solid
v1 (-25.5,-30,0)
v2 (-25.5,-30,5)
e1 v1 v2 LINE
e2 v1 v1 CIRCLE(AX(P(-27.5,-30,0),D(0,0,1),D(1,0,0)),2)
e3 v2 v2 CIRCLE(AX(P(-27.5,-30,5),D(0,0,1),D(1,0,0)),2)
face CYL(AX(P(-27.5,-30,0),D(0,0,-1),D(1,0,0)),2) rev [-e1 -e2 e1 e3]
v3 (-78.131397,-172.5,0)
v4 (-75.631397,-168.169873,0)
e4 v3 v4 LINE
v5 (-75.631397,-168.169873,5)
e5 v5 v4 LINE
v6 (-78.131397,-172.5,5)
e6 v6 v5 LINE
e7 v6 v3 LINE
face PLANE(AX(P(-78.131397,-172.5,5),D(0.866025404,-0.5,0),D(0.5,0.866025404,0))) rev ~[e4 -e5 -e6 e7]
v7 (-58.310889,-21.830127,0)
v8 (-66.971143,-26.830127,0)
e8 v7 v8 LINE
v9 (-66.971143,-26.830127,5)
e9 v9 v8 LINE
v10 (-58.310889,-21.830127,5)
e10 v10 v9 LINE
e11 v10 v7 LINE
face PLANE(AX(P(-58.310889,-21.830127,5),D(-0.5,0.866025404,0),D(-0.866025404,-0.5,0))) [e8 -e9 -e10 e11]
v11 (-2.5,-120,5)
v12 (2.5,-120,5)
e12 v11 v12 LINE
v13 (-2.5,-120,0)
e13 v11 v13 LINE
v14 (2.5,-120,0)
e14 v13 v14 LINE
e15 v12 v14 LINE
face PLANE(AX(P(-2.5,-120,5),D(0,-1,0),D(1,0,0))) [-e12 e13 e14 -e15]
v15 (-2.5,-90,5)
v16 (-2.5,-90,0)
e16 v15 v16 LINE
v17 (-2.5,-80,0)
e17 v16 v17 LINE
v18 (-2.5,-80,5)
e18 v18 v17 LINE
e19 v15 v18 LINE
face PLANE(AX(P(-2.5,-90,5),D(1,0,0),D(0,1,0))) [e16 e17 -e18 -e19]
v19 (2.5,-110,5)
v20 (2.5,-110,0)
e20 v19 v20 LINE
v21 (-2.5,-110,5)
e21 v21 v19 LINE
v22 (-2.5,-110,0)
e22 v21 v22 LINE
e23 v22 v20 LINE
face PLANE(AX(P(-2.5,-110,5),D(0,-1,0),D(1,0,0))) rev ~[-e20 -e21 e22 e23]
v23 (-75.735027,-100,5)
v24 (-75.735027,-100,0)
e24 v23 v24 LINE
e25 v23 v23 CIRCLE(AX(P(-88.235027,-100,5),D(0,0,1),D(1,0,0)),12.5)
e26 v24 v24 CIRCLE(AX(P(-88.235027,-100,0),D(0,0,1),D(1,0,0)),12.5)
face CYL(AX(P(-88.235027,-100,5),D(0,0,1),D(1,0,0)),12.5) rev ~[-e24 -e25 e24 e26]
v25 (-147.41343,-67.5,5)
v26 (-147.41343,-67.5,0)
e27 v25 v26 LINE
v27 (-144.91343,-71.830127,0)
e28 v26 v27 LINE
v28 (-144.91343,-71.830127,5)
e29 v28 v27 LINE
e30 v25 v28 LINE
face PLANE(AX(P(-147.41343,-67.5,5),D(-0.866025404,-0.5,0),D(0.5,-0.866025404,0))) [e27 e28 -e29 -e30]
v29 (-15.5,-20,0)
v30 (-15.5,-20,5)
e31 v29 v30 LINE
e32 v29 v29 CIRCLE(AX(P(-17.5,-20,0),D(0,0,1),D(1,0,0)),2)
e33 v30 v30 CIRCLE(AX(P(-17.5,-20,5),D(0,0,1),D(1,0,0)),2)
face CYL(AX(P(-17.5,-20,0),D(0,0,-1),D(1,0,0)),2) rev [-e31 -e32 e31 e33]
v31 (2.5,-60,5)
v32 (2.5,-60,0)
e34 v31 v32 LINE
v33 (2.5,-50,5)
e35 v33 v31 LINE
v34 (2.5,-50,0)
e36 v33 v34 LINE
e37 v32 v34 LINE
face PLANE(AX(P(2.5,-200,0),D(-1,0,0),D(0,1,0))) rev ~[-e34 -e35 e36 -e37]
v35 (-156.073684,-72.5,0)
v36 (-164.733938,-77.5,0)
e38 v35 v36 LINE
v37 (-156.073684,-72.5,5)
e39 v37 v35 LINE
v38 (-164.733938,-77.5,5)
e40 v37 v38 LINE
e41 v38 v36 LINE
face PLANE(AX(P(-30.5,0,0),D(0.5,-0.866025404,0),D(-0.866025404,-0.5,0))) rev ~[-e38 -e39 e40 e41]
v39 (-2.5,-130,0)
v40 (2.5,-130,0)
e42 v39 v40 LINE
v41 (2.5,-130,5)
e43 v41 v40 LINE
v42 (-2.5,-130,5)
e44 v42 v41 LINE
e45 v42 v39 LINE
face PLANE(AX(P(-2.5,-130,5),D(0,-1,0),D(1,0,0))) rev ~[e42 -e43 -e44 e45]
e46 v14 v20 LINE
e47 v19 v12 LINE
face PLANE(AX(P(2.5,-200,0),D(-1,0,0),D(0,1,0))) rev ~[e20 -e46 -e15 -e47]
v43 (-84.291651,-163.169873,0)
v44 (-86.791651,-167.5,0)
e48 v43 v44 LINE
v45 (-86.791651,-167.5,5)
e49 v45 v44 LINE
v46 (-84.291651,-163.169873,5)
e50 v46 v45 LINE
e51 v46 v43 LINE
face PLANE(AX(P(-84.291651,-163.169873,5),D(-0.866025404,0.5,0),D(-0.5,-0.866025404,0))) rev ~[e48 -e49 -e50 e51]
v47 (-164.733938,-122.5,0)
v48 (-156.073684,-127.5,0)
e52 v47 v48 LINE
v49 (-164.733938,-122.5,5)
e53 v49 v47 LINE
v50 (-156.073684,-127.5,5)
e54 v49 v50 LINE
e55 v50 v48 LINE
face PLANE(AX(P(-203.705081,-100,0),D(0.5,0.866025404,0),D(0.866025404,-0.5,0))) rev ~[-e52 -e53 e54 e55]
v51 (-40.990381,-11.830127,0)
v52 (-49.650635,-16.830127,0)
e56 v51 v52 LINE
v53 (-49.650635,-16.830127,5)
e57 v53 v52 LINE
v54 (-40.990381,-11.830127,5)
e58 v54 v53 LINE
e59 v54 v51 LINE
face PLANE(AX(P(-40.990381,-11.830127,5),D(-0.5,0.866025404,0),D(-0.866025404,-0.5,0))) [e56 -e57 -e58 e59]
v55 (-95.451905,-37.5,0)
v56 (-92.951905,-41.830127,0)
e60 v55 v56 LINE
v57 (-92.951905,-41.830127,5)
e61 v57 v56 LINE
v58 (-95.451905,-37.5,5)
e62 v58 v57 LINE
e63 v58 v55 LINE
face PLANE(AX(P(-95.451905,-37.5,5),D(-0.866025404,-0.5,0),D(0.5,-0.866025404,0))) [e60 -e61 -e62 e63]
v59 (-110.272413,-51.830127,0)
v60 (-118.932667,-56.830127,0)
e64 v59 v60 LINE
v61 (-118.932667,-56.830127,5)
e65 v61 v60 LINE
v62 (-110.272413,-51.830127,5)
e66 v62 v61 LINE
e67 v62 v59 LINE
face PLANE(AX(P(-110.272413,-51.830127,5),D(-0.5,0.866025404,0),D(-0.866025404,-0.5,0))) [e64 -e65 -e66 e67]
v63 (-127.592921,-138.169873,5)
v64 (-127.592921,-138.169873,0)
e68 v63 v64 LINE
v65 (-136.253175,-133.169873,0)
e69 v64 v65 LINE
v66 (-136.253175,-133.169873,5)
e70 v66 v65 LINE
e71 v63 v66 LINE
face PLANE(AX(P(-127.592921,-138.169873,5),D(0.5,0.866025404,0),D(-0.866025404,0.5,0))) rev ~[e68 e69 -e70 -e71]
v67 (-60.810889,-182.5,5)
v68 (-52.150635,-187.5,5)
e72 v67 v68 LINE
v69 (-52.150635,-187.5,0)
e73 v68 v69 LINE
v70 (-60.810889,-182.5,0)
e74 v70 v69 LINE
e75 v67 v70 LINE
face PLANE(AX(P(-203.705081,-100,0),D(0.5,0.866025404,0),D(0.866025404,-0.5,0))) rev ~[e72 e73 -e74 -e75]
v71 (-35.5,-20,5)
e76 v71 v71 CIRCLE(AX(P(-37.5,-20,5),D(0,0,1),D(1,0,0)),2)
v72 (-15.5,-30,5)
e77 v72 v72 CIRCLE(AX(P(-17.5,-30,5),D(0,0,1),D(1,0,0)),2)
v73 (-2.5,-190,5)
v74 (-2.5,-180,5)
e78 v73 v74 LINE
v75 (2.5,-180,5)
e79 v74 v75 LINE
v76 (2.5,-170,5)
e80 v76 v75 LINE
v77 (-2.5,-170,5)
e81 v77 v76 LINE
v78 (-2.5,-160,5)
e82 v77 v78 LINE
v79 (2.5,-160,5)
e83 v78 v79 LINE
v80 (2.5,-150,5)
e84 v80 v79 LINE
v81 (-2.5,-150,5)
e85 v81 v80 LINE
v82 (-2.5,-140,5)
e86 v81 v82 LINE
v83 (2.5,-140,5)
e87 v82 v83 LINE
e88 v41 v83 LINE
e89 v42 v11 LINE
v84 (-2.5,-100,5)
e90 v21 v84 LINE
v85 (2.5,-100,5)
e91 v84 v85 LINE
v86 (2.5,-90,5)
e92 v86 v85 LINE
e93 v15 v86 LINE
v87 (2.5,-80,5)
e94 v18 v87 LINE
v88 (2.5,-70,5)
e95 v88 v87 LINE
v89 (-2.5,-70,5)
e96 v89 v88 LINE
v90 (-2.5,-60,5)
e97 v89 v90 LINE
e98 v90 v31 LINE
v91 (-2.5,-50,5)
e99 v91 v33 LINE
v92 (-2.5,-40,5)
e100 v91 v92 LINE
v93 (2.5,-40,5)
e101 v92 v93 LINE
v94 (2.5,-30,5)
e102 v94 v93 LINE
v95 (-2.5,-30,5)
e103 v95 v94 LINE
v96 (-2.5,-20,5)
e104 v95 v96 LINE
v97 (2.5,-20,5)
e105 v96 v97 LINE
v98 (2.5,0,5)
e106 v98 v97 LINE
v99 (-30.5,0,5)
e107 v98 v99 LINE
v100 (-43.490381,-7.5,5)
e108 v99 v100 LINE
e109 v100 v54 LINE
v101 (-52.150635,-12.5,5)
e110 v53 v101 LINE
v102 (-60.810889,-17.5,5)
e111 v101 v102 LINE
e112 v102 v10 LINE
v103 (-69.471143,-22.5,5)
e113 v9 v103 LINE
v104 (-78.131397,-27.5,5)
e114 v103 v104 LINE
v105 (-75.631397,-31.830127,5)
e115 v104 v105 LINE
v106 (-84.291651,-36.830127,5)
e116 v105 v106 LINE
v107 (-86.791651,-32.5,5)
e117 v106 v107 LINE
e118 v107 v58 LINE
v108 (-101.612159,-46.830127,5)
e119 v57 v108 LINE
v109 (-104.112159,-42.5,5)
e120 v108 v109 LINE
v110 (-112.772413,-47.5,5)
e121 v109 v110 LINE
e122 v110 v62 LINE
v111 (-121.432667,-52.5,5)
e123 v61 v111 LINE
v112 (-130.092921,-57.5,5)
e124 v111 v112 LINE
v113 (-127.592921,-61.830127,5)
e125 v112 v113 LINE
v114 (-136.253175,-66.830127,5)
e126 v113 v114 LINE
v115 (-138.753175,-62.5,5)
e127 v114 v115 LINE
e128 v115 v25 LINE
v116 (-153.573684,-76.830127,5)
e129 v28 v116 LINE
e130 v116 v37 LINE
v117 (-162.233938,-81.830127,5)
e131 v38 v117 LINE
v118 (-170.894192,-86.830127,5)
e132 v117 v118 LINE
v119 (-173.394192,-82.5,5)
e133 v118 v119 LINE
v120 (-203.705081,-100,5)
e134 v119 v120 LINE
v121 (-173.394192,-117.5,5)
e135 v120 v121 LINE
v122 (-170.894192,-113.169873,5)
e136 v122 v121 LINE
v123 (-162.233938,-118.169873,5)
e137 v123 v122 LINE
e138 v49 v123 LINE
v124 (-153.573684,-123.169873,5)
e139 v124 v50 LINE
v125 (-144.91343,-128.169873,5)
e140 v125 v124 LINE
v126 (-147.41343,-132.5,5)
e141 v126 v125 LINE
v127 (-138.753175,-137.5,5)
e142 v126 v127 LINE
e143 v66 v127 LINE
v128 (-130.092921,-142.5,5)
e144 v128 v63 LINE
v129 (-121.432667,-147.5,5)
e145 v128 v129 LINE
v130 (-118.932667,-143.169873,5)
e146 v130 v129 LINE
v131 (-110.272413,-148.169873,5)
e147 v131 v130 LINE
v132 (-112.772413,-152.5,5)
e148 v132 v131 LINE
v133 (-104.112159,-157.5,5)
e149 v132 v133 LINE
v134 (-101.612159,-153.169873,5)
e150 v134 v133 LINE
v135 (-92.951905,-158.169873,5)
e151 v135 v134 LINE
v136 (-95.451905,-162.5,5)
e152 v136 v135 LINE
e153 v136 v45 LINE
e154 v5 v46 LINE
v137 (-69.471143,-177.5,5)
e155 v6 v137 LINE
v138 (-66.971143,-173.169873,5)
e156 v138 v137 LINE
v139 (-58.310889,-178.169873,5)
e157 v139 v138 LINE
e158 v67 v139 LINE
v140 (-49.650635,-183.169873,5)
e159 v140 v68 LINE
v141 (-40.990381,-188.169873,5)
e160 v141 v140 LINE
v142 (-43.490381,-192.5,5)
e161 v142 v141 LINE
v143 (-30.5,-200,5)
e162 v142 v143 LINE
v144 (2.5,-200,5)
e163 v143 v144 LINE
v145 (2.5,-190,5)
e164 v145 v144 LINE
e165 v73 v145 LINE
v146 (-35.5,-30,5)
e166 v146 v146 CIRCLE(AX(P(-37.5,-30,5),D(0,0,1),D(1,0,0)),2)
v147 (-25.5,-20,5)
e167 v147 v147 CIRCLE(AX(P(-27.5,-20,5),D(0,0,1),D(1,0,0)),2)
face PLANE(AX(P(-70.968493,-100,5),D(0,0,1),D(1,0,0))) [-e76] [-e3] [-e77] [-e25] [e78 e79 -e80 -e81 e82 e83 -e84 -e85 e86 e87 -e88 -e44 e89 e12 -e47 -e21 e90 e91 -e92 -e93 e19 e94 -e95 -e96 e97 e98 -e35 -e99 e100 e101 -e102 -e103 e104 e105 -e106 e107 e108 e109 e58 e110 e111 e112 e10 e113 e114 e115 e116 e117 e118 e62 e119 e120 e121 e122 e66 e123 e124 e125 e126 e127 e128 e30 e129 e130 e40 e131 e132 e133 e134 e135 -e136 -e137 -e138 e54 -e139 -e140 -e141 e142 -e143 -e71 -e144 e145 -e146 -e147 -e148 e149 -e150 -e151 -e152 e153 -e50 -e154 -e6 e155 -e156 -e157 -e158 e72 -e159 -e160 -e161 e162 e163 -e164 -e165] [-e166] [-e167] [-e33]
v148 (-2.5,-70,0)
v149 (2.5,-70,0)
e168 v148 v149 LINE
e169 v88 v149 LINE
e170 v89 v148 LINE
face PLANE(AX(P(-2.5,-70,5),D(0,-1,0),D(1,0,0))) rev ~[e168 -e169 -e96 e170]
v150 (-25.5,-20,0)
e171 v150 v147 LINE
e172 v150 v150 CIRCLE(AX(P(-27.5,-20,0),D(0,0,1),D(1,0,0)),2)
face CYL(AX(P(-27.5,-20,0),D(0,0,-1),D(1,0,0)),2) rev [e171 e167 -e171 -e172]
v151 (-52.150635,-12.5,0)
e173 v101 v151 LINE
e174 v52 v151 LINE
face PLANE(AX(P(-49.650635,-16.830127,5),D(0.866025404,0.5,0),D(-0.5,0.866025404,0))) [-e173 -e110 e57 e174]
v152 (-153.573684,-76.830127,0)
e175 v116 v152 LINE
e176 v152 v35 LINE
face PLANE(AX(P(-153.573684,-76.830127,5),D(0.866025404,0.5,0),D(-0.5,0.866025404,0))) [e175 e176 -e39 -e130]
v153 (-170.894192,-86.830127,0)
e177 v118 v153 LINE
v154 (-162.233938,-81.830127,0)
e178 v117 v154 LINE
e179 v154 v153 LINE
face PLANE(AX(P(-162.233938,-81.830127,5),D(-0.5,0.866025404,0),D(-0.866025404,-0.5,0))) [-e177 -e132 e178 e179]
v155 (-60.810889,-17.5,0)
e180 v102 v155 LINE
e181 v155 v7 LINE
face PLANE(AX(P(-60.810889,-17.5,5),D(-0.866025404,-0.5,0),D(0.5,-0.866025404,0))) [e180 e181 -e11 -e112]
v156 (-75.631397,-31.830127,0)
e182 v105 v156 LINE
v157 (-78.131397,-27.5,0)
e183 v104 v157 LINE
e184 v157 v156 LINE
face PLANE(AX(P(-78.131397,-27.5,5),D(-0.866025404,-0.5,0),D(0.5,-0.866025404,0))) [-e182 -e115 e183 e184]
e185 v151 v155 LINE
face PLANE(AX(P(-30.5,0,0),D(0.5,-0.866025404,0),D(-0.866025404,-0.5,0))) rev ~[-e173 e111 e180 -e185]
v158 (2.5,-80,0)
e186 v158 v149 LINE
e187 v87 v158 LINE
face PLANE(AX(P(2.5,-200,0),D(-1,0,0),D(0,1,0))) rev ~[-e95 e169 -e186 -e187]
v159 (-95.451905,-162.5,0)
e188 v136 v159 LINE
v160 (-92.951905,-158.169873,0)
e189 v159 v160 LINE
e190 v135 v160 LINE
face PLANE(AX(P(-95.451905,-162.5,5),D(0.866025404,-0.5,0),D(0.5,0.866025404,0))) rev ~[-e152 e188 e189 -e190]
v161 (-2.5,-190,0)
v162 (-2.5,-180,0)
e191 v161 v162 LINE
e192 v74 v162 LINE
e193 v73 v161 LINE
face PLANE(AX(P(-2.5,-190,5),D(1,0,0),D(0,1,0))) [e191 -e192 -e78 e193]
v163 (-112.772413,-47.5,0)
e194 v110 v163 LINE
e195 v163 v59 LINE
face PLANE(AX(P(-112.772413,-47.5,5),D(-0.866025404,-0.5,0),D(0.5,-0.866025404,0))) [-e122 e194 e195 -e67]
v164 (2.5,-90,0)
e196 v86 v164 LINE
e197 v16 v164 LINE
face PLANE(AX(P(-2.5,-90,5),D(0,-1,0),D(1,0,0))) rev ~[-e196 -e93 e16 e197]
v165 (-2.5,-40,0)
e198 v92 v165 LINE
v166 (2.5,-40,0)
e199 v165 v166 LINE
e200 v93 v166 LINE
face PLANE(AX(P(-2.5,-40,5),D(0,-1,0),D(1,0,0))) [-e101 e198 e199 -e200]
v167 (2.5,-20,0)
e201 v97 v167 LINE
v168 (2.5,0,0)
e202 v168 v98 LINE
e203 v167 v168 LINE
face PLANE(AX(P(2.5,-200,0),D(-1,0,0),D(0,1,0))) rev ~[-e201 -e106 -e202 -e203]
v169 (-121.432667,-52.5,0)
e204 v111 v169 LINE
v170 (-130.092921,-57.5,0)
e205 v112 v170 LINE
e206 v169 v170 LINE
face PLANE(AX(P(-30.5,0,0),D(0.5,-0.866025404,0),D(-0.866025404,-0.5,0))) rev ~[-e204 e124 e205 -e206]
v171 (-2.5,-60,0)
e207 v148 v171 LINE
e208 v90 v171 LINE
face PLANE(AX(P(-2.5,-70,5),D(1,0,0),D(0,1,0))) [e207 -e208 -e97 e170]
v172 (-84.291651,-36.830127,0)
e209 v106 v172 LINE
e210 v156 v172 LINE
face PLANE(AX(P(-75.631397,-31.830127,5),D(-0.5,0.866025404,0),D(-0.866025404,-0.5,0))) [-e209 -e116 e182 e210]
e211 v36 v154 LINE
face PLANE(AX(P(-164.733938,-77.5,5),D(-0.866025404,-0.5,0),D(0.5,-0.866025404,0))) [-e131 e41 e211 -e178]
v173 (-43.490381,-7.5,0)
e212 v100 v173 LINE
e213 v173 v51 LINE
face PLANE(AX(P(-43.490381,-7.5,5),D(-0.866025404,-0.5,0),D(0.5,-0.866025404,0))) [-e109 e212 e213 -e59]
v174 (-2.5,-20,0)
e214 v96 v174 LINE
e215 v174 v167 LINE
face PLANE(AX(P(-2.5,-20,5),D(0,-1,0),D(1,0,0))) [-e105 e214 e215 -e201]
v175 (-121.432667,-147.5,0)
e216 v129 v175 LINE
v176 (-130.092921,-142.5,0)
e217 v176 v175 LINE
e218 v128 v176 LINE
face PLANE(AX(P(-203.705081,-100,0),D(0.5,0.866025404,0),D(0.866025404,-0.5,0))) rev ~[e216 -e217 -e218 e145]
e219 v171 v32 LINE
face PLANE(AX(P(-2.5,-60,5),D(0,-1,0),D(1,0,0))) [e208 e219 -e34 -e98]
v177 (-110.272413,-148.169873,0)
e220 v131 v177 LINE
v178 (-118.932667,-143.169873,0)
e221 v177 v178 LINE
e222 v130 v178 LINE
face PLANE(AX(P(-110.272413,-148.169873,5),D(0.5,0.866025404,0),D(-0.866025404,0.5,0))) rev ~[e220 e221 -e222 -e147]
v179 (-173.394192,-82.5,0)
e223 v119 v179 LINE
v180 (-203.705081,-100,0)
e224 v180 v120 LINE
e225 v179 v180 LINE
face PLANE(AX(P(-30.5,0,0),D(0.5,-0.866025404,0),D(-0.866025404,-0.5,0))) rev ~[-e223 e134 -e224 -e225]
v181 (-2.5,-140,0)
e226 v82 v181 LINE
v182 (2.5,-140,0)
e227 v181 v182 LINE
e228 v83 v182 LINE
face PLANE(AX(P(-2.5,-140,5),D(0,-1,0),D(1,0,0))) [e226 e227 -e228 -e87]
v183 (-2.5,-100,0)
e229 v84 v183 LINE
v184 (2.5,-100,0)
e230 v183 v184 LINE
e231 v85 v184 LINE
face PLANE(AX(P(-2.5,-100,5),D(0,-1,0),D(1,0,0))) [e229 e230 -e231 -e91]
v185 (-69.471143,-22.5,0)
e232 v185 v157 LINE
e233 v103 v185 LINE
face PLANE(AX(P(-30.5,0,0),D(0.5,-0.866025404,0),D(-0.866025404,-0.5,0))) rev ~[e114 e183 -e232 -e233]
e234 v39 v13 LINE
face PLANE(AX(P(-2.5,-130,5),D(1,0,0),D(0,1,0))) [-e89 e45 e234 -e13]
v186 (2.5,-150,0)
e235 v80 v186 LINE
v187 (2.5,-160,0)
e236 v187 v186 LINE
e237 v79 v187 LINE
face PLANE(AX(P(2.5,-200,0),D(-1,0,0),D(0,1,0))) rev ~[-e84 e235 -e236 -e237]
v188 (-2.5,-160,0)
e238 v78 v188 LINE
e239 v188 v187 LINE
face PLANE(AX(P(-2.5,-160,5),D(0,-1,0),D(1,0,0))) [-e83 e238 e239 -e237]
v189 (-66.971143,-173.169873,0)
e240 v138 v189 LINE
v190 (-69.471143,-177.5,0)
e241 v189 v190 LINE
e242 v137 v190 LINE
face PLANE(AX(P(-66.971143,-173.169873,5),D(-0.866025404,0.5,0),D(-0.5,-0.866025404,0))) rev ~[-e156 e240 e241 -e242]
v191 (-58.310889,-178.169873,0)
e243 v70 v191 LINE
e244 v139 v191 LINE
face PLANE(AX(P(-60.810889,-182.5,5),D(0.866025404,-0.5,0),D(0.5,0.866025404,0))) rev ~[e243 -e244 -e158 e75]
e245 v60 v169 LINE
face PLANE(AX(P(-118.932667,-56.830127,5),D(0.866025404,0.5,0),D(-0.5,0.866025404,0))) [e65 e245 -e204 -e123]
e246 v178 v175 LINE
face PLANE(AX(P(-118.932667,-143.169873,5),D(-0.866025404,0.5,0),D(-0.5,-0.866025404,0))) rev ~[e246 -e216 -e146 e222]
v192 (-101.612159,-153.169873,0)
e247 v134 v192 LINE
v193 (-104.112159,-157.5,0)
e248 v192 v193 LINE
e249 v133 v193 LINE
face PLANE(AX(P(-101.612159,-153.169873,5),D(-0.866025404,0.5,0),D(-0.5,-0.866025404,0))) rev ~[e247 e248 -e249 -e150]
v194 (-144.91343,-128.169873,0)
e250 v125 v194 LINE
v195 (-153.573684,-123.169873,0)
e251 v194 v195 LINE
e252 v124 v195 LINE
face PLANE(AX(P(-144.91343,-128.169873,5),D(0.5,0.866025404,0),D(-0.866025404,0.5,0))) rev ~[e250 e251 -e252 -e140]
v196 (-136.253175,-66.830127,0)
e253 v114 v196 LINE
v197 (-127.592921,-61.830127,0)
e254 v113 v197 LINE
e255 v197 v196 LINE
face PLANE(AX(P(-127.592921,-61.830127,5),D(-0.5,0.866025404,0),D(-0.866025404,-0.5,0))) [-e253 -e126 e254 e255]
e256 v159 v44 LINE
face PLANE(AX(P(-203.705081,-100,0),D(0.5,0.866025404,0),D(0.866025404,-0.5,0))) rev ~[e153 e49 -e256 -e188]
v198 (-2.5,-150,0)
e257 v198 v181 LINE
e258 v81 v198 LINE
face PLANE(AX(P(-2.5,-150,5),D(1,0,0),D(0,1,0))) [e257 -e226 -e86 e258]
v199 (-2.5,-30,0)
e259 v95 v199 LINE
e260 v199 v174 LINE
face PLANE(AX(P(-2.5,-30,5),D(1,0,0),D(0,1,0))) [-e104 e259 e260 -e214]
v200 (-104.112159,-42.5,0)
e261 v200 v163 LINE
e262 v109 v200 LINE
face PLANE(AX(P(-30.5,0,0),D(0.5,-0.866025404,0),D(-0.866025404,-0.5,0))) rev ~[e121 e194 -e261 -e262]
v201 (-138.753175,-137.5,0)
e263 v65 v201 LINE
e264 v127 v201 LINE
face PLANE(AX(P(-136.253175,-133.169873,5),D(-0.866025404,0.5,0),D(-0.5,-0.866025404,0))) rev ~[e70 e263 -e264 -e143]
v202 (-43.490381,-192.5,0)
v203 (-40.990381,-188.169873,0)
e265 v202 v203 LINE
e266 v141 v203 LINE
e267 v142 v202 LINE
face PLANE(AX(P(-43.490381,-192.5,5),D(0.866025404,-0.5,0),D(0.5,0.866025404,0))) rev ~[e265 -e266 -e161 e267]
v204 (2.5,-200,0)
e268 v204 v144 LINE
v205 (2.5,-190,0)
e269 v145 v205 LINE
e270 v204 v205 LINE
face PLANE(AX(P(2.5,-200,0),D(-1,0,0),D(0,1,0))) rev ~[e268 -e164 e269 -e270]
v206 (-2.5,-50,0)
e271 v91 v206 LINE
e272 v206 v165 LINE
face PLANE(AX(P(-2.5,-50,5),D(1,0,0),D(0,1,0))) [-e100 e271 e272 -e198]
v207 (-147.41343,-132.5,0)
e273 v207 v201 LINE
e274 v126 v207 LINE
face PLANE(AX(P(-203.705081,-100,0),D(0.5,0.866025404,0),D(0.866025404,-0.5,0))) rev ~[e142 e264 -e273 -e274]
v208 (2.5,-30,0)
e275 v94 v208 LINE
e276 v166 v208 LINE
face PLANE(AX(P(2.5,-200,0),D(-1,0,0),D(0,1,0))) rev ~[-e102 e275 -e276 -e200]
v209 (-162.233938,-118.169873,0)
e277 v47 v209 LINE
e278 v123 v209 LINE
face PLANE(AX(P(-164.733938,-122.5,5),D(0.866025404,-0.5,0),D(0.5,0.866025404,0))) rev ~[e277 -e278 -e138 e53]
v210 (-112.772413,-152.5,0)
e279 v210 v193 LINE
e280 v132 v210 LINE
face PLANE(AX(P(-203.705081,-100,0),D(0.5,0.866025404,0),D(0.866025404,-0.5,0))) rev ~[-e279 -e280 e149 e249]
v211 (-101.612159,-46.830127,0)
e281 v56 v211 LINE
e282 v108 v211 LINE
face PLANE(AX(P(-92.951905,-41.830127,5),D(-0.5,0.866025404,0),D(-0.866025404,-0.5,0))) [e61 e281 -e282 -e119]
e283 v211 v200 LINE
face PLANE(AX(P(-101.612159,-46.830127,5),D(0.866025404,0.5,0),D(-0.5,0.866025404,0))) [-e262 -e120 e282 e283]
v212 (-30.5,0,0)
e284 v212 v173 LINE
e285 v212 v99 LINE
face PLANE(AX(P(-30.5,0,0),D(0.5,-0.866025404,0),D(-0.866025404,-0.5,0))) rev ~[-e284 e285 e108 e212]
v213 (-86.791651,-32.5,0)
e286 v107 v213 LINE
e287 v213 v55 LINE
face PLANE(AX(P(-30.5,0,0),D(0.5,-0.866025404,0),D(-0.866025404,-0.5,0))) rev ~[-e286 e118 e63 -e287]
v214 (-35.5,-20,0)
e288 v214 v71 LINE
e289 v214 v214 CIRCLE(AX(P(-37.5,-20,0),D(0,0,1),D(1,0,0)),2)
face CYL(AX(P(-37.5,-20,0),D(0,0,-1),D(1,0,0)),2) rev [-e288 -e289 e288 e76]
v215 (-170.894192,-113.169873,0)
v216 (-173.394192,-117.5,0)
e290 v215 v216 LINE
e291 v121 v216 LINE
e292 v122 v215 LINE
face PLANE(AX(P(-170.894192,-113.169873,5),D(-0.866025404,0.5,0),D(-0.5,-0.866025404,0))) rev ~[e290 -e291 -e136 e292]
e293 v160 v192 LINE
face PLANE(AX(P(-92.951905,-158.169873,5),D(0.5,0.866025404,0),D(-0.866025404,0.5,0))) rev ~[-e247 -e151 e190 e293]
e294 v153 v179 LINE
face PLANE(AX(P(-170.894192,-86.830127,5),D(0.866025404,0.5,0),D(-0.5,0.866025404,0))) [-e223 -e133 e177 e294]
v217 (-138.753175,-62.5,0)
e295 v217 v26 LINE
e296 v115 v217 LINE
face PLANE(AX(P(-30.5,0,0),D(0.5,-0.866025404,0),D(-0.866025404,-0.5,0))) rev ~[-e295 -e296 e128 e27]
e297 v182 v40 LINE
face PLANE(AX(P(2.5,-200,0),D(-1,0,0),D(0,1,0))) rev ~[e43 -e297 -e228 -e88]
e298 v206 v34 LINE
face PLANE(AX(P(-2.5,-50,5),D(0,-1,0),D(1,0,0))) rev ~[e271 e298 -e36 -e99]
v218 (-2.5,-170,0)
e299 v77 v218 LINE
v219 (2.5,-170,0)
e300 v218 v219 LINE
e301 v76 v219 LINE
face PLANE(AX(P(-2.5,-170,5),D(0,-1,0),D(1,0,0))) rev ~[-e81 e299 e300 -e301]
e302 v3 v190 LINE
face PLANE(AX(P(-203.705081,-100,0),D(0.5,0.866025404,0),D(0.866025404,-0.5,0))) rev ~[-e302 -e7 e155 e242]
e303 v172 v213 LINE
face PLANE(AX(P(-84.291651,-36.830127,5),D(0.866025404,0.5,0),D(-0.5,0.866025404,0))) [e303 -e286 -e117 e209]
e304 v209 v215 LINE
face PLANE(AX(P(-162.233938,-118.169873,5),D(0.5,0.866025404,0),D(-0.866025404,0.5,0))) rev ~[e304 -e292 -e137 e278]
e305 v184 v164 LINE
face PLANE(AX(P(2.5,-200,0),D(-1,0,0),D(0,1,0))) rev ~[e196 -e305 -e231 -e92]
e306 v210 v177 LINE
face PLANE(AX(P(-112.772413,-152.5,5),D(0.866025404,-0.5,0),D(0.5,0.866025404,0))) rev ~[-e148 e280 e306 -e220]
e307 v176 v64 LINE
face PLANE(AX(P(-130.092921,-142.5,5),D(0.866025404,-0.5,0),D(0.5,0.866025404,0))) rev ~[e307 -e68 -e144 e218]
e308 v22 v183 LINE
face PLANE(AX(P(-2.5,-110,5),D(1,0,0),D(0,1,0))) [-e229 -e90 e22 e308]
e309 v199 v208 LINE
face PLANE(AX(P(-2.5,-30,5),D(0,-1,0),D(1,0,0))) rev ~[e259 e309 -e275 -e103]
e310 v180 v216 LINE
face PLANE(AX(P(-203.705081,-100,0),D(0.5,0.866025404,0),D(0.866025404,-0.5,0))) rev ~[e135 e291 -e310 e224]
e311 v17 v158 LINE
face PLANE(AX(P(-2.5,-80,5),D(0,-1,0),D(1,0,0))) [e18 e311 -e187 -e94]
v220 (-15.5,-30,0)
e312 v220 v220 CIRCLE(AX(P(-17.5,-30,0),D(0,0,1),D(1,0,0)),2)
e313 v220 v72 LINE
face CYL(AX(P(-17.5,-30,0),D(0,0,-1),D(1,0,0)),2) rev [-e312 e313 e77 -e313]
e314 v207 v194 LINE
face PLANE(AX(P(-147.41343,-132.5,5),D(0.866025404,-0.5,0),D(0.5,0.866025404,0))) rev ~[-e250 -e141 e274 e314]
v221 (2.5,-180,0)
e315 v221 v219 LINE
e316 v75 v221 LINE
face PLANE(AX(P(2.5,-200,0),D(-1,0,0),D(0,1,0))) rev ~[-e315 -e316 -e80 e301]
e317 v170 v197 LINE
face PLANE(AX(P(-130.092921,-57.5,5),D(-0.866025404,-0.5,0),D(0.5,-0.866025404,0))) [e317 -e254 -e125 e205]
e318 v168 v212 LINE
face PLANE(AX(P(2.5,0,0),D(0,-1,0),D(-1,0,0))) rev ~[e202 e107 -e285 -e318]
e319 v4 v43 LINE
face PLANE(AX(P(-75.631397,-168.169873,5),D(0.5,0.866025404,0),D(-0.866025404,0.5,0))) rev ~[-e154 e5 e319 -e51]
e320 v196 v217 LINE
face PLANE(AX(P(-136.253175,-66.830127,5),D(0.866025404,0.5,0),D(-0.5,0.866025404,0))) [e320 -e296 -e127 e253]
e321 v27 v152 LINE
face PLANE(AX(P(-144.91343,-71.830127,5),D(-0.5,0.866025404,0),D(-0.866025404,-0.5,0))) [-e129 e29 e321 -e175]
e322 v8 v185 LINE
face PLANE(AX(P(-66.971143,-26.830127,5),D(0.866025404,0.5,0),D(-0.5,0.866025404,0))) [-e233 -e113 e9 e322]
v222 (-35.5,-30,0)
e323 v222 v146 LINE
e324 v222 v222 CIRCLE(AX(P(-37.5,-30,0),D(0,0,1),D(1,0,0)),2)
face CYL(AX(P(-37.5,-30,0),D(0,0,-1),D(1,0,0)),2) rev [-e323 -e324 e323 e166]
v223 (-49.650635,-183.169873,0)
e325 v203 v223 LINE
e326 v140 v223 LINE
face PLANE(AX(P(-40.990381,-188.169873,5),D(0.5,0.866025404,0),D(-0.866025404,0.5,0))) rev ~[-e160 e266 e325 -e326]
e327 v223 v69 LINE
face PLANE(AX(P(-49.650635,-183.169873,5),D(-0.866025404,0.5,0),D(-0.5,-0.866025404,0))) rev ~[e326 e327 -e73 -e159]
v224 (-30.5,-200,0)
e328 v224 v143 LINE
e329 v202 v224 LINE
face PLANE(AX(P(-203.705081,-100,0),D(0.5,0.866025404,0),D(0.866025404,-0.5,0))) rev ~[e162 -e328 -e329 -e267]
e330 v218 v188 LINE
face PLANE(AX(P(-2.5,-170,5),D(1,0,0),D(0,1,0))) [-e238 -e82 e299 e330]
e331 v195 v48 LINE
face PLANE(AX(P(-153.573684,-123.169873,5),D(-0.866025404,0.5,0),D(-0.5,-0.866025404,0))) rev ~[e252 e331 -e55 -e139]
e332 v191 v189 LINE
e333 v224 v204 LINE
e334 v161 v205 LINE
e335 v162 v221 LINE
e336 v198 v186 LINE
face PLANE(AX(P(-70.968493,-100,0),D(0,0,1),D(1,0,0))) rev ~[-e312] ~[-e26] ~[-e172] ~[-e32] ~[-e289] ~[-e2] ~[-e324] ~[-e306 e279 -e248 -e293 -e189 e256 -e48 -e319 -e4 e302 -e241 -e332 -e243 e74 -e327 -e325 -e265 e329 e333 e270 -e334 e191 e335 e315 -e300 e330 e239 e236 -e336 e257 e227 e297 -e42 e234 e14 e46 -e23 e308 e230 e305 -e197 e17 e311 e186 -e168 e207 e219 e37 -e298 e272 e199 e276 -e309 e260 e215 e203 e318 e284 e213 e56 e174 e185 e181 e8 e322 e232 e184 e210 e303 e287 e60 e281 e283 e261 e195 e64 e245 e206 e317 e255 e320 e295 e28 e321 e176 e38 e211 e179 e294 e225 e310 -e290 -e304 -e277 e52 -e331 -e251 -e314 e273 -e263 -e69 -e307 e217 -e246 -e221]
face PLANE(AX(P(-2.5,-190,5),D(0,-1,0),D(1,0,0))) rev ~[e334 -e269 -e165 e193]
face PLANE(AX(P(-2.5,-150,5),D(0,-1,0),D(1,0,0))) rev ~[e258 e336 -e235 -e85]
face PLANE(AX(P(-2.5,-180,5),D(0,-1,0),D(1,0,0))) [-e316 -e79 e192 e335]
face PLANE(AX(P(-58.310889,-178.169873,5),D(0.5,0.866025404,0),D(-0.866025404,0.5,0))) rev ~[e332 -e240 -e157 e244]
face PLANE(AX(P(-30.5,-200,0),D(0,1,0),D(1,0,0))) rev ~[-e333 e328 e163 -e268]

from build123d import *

# Parameters (mm, degrees)
SKETCH1_R               = 2
BOSS_EXTRUDE1_DEPTH     = 5
SKETCH3_R               = 12.5
SKETCH3_W               = 5
SKETCH3_H               = 10
CUT_EXTRUDE5_DEPTH      = 1
CUT_EXTRUDE5_DEPTH_BACK = 6


with BuildPart() as part:
    # Sketch1 → Boss-Extrude1 (new body)
    with BuildSketch(Plane.XY):
        Polygon((2.5, -200), (2.5, 0), (-2.5, 0), (-30.5, 0), (-203.705080757, -100), (-30.5, -200), align=None)
        with Locations((-37.5, -30)):
            Circle(SKETCH1_R, mode=Mode.SUBTRACT)
        with Locations((-27.5, -30)):
            Circle(SKETCH1_R, mode=Mode.SUBTRACT)
        with Locations((-17.5, -30)):
            Circle(SKETCH1_R, mode=Mode.SUBTRACT)
        with Locations((-37.5, -20)):
            Circle(SKETCH1_R, mode=Mode.SUBTRACT)
        with Locations((-27.5, -20)):
            Circle(SKETCH1_R, mode=Mode.SUBTRACT)
        with Locations((-17.5, -20)):
            Circle(SKETCH1_R, mode=Mode.SUBTRACT)
    extrude(amount=BOSS_EXTRUDE1_DEPTH)

    # Sketch3 → Cut-Extrude5 (cut, two sides)
    with BuildSketch(Plane.XY.offset(5)) as cut_extrude5_sk:
        with Locations((-88.235026919, -100)):
            Circle(SKETCH3_R)
        Polygon((-121.432667397, -52.5), (-112.77241336, -47.5), (-110.27241336, -51.830127019), (-118.932667397, -56.830127019), align=None)
        Polygon((-101.612159322, -46.830127019), (-104.112159322, -42.5), (-95.451905284, -37.5), (-92.951905284, -41.830127019), align=None)
        Polygon((-84.291651246, -36.830127019), (-86.791651246, -32.5), (-78.131397208, -27.5), (-75.631397208, -31.830127019), align=None)
        Polygon((-66.97114317, -26.830127019), (-69.47114317, -22.5), (-60.810889132, -17.5), (-58.310889132, -21.830127019), align=None)
        Polygon((-49.650635095, -16.830127019), (-52.150635095, -12.5), (-43.490381057, -7.5), (-40.990381057, -11.830127019), align=None)
        Polygon((-136.253175473, -66.830127019), (-138.753175473, -62.5), (-130.092921435, -57.5), (-127.592921435, -61.830127019), align=None)
        Polygon((-153.573683549, -76.830127019), (-156.073683549, -72.5), (-147.413429511, -67.5), (-144.913429511, -71.830127019), align=None)
        Polygon((-170.894191624, -86.830127019), (-173.394191624, -82.5), (-164.733937587, -77.5), (-162.233937587, -81.830127019), align=None)
        Polygon((-112.77241336, -152.5), (-110.27241336, -148.169872981), (-118.932667397, -143.169872981), (-121.432667397, -147.5), align=None)
        Polygon((-173.394191624, -117.5), (-164.733937587, -122.5), (-162.233937587, -118.169872981), (-170.894191624, -113.169872981), align=None)
        Polygon((-156.073683549, -127.5), (-147.413429511, -132.5), (-144.913429511, -128.169872981), (-153.573683549, -123.169872981), align=None)
        Polygon((-138.753175473, -137.5), (-130.092921435, -142.5), (-127.592921435, -138.169872981), (-136.253175473, -133.169872981), align=None)
        Polygon((-52.150635095, -187.5), (-43.490381057, -192.5), (-40.990381057, -188.169872981), (-49.650635095, -183.169872981), align=None)
        Polygon((-69.47114317, -177.5), (-60.810889132, -182.5), (-58.310889132, -178.169872981), (-66.97114317, -173.169872981), align=None)
        Polygon((-86.791651246, -167.5), (-78.131397208, -172.5), (-75.631397208, -168.169872981), (-84.291651246, -163.169872981), align=None)
        Polygon((-104.112159322, -157.5), (-95.451905284, -162.5), (-92.951905284, -158.169872981), (-101.612159322, -153.169872981), align=None)
        with Locations((0, -85)):
            Rectangle(SKETCH3_W, SKETCH3_H)
        with Locations((0, -105)):
            Rectangle(SKETCH3_W, SKETCH3_H)
        with Locations((0, -65)):
            Rectangle(SKETCH3_W, SKETCH3_H)
        with Locations((0, -45)):
            Rectangle(SKETCH3_W, SKETCH3_H)
        with Locations((0, -25)):
            Rectangle(SKETCH3_W, SKETCH3_H)
        with Locations((0, -125)):
            Rectangle(SKETCH3_W, SKETCH3_H)
        with Locations((0, -145)):
            Rectangle(SKETCH3_W, SKETCH3_H)
        with Locations((0, -165)):
            Rectangle(SKETCH3_W, SKETCH3_H)
        with Locations((0, -185)):
            Rectangle(SKETCH3_W, SKETCH3_H)
    extrude(amount=CUT_EXTRUDE5_DEPTH, mode=Mode.SUBTRACT)
    extrude(cut_extrude5_sk.sketch, amount=-CUT_EXTRUDE5_DEPTH_BACK, mode=Mode.SUBTRACT)


solid = part.part
